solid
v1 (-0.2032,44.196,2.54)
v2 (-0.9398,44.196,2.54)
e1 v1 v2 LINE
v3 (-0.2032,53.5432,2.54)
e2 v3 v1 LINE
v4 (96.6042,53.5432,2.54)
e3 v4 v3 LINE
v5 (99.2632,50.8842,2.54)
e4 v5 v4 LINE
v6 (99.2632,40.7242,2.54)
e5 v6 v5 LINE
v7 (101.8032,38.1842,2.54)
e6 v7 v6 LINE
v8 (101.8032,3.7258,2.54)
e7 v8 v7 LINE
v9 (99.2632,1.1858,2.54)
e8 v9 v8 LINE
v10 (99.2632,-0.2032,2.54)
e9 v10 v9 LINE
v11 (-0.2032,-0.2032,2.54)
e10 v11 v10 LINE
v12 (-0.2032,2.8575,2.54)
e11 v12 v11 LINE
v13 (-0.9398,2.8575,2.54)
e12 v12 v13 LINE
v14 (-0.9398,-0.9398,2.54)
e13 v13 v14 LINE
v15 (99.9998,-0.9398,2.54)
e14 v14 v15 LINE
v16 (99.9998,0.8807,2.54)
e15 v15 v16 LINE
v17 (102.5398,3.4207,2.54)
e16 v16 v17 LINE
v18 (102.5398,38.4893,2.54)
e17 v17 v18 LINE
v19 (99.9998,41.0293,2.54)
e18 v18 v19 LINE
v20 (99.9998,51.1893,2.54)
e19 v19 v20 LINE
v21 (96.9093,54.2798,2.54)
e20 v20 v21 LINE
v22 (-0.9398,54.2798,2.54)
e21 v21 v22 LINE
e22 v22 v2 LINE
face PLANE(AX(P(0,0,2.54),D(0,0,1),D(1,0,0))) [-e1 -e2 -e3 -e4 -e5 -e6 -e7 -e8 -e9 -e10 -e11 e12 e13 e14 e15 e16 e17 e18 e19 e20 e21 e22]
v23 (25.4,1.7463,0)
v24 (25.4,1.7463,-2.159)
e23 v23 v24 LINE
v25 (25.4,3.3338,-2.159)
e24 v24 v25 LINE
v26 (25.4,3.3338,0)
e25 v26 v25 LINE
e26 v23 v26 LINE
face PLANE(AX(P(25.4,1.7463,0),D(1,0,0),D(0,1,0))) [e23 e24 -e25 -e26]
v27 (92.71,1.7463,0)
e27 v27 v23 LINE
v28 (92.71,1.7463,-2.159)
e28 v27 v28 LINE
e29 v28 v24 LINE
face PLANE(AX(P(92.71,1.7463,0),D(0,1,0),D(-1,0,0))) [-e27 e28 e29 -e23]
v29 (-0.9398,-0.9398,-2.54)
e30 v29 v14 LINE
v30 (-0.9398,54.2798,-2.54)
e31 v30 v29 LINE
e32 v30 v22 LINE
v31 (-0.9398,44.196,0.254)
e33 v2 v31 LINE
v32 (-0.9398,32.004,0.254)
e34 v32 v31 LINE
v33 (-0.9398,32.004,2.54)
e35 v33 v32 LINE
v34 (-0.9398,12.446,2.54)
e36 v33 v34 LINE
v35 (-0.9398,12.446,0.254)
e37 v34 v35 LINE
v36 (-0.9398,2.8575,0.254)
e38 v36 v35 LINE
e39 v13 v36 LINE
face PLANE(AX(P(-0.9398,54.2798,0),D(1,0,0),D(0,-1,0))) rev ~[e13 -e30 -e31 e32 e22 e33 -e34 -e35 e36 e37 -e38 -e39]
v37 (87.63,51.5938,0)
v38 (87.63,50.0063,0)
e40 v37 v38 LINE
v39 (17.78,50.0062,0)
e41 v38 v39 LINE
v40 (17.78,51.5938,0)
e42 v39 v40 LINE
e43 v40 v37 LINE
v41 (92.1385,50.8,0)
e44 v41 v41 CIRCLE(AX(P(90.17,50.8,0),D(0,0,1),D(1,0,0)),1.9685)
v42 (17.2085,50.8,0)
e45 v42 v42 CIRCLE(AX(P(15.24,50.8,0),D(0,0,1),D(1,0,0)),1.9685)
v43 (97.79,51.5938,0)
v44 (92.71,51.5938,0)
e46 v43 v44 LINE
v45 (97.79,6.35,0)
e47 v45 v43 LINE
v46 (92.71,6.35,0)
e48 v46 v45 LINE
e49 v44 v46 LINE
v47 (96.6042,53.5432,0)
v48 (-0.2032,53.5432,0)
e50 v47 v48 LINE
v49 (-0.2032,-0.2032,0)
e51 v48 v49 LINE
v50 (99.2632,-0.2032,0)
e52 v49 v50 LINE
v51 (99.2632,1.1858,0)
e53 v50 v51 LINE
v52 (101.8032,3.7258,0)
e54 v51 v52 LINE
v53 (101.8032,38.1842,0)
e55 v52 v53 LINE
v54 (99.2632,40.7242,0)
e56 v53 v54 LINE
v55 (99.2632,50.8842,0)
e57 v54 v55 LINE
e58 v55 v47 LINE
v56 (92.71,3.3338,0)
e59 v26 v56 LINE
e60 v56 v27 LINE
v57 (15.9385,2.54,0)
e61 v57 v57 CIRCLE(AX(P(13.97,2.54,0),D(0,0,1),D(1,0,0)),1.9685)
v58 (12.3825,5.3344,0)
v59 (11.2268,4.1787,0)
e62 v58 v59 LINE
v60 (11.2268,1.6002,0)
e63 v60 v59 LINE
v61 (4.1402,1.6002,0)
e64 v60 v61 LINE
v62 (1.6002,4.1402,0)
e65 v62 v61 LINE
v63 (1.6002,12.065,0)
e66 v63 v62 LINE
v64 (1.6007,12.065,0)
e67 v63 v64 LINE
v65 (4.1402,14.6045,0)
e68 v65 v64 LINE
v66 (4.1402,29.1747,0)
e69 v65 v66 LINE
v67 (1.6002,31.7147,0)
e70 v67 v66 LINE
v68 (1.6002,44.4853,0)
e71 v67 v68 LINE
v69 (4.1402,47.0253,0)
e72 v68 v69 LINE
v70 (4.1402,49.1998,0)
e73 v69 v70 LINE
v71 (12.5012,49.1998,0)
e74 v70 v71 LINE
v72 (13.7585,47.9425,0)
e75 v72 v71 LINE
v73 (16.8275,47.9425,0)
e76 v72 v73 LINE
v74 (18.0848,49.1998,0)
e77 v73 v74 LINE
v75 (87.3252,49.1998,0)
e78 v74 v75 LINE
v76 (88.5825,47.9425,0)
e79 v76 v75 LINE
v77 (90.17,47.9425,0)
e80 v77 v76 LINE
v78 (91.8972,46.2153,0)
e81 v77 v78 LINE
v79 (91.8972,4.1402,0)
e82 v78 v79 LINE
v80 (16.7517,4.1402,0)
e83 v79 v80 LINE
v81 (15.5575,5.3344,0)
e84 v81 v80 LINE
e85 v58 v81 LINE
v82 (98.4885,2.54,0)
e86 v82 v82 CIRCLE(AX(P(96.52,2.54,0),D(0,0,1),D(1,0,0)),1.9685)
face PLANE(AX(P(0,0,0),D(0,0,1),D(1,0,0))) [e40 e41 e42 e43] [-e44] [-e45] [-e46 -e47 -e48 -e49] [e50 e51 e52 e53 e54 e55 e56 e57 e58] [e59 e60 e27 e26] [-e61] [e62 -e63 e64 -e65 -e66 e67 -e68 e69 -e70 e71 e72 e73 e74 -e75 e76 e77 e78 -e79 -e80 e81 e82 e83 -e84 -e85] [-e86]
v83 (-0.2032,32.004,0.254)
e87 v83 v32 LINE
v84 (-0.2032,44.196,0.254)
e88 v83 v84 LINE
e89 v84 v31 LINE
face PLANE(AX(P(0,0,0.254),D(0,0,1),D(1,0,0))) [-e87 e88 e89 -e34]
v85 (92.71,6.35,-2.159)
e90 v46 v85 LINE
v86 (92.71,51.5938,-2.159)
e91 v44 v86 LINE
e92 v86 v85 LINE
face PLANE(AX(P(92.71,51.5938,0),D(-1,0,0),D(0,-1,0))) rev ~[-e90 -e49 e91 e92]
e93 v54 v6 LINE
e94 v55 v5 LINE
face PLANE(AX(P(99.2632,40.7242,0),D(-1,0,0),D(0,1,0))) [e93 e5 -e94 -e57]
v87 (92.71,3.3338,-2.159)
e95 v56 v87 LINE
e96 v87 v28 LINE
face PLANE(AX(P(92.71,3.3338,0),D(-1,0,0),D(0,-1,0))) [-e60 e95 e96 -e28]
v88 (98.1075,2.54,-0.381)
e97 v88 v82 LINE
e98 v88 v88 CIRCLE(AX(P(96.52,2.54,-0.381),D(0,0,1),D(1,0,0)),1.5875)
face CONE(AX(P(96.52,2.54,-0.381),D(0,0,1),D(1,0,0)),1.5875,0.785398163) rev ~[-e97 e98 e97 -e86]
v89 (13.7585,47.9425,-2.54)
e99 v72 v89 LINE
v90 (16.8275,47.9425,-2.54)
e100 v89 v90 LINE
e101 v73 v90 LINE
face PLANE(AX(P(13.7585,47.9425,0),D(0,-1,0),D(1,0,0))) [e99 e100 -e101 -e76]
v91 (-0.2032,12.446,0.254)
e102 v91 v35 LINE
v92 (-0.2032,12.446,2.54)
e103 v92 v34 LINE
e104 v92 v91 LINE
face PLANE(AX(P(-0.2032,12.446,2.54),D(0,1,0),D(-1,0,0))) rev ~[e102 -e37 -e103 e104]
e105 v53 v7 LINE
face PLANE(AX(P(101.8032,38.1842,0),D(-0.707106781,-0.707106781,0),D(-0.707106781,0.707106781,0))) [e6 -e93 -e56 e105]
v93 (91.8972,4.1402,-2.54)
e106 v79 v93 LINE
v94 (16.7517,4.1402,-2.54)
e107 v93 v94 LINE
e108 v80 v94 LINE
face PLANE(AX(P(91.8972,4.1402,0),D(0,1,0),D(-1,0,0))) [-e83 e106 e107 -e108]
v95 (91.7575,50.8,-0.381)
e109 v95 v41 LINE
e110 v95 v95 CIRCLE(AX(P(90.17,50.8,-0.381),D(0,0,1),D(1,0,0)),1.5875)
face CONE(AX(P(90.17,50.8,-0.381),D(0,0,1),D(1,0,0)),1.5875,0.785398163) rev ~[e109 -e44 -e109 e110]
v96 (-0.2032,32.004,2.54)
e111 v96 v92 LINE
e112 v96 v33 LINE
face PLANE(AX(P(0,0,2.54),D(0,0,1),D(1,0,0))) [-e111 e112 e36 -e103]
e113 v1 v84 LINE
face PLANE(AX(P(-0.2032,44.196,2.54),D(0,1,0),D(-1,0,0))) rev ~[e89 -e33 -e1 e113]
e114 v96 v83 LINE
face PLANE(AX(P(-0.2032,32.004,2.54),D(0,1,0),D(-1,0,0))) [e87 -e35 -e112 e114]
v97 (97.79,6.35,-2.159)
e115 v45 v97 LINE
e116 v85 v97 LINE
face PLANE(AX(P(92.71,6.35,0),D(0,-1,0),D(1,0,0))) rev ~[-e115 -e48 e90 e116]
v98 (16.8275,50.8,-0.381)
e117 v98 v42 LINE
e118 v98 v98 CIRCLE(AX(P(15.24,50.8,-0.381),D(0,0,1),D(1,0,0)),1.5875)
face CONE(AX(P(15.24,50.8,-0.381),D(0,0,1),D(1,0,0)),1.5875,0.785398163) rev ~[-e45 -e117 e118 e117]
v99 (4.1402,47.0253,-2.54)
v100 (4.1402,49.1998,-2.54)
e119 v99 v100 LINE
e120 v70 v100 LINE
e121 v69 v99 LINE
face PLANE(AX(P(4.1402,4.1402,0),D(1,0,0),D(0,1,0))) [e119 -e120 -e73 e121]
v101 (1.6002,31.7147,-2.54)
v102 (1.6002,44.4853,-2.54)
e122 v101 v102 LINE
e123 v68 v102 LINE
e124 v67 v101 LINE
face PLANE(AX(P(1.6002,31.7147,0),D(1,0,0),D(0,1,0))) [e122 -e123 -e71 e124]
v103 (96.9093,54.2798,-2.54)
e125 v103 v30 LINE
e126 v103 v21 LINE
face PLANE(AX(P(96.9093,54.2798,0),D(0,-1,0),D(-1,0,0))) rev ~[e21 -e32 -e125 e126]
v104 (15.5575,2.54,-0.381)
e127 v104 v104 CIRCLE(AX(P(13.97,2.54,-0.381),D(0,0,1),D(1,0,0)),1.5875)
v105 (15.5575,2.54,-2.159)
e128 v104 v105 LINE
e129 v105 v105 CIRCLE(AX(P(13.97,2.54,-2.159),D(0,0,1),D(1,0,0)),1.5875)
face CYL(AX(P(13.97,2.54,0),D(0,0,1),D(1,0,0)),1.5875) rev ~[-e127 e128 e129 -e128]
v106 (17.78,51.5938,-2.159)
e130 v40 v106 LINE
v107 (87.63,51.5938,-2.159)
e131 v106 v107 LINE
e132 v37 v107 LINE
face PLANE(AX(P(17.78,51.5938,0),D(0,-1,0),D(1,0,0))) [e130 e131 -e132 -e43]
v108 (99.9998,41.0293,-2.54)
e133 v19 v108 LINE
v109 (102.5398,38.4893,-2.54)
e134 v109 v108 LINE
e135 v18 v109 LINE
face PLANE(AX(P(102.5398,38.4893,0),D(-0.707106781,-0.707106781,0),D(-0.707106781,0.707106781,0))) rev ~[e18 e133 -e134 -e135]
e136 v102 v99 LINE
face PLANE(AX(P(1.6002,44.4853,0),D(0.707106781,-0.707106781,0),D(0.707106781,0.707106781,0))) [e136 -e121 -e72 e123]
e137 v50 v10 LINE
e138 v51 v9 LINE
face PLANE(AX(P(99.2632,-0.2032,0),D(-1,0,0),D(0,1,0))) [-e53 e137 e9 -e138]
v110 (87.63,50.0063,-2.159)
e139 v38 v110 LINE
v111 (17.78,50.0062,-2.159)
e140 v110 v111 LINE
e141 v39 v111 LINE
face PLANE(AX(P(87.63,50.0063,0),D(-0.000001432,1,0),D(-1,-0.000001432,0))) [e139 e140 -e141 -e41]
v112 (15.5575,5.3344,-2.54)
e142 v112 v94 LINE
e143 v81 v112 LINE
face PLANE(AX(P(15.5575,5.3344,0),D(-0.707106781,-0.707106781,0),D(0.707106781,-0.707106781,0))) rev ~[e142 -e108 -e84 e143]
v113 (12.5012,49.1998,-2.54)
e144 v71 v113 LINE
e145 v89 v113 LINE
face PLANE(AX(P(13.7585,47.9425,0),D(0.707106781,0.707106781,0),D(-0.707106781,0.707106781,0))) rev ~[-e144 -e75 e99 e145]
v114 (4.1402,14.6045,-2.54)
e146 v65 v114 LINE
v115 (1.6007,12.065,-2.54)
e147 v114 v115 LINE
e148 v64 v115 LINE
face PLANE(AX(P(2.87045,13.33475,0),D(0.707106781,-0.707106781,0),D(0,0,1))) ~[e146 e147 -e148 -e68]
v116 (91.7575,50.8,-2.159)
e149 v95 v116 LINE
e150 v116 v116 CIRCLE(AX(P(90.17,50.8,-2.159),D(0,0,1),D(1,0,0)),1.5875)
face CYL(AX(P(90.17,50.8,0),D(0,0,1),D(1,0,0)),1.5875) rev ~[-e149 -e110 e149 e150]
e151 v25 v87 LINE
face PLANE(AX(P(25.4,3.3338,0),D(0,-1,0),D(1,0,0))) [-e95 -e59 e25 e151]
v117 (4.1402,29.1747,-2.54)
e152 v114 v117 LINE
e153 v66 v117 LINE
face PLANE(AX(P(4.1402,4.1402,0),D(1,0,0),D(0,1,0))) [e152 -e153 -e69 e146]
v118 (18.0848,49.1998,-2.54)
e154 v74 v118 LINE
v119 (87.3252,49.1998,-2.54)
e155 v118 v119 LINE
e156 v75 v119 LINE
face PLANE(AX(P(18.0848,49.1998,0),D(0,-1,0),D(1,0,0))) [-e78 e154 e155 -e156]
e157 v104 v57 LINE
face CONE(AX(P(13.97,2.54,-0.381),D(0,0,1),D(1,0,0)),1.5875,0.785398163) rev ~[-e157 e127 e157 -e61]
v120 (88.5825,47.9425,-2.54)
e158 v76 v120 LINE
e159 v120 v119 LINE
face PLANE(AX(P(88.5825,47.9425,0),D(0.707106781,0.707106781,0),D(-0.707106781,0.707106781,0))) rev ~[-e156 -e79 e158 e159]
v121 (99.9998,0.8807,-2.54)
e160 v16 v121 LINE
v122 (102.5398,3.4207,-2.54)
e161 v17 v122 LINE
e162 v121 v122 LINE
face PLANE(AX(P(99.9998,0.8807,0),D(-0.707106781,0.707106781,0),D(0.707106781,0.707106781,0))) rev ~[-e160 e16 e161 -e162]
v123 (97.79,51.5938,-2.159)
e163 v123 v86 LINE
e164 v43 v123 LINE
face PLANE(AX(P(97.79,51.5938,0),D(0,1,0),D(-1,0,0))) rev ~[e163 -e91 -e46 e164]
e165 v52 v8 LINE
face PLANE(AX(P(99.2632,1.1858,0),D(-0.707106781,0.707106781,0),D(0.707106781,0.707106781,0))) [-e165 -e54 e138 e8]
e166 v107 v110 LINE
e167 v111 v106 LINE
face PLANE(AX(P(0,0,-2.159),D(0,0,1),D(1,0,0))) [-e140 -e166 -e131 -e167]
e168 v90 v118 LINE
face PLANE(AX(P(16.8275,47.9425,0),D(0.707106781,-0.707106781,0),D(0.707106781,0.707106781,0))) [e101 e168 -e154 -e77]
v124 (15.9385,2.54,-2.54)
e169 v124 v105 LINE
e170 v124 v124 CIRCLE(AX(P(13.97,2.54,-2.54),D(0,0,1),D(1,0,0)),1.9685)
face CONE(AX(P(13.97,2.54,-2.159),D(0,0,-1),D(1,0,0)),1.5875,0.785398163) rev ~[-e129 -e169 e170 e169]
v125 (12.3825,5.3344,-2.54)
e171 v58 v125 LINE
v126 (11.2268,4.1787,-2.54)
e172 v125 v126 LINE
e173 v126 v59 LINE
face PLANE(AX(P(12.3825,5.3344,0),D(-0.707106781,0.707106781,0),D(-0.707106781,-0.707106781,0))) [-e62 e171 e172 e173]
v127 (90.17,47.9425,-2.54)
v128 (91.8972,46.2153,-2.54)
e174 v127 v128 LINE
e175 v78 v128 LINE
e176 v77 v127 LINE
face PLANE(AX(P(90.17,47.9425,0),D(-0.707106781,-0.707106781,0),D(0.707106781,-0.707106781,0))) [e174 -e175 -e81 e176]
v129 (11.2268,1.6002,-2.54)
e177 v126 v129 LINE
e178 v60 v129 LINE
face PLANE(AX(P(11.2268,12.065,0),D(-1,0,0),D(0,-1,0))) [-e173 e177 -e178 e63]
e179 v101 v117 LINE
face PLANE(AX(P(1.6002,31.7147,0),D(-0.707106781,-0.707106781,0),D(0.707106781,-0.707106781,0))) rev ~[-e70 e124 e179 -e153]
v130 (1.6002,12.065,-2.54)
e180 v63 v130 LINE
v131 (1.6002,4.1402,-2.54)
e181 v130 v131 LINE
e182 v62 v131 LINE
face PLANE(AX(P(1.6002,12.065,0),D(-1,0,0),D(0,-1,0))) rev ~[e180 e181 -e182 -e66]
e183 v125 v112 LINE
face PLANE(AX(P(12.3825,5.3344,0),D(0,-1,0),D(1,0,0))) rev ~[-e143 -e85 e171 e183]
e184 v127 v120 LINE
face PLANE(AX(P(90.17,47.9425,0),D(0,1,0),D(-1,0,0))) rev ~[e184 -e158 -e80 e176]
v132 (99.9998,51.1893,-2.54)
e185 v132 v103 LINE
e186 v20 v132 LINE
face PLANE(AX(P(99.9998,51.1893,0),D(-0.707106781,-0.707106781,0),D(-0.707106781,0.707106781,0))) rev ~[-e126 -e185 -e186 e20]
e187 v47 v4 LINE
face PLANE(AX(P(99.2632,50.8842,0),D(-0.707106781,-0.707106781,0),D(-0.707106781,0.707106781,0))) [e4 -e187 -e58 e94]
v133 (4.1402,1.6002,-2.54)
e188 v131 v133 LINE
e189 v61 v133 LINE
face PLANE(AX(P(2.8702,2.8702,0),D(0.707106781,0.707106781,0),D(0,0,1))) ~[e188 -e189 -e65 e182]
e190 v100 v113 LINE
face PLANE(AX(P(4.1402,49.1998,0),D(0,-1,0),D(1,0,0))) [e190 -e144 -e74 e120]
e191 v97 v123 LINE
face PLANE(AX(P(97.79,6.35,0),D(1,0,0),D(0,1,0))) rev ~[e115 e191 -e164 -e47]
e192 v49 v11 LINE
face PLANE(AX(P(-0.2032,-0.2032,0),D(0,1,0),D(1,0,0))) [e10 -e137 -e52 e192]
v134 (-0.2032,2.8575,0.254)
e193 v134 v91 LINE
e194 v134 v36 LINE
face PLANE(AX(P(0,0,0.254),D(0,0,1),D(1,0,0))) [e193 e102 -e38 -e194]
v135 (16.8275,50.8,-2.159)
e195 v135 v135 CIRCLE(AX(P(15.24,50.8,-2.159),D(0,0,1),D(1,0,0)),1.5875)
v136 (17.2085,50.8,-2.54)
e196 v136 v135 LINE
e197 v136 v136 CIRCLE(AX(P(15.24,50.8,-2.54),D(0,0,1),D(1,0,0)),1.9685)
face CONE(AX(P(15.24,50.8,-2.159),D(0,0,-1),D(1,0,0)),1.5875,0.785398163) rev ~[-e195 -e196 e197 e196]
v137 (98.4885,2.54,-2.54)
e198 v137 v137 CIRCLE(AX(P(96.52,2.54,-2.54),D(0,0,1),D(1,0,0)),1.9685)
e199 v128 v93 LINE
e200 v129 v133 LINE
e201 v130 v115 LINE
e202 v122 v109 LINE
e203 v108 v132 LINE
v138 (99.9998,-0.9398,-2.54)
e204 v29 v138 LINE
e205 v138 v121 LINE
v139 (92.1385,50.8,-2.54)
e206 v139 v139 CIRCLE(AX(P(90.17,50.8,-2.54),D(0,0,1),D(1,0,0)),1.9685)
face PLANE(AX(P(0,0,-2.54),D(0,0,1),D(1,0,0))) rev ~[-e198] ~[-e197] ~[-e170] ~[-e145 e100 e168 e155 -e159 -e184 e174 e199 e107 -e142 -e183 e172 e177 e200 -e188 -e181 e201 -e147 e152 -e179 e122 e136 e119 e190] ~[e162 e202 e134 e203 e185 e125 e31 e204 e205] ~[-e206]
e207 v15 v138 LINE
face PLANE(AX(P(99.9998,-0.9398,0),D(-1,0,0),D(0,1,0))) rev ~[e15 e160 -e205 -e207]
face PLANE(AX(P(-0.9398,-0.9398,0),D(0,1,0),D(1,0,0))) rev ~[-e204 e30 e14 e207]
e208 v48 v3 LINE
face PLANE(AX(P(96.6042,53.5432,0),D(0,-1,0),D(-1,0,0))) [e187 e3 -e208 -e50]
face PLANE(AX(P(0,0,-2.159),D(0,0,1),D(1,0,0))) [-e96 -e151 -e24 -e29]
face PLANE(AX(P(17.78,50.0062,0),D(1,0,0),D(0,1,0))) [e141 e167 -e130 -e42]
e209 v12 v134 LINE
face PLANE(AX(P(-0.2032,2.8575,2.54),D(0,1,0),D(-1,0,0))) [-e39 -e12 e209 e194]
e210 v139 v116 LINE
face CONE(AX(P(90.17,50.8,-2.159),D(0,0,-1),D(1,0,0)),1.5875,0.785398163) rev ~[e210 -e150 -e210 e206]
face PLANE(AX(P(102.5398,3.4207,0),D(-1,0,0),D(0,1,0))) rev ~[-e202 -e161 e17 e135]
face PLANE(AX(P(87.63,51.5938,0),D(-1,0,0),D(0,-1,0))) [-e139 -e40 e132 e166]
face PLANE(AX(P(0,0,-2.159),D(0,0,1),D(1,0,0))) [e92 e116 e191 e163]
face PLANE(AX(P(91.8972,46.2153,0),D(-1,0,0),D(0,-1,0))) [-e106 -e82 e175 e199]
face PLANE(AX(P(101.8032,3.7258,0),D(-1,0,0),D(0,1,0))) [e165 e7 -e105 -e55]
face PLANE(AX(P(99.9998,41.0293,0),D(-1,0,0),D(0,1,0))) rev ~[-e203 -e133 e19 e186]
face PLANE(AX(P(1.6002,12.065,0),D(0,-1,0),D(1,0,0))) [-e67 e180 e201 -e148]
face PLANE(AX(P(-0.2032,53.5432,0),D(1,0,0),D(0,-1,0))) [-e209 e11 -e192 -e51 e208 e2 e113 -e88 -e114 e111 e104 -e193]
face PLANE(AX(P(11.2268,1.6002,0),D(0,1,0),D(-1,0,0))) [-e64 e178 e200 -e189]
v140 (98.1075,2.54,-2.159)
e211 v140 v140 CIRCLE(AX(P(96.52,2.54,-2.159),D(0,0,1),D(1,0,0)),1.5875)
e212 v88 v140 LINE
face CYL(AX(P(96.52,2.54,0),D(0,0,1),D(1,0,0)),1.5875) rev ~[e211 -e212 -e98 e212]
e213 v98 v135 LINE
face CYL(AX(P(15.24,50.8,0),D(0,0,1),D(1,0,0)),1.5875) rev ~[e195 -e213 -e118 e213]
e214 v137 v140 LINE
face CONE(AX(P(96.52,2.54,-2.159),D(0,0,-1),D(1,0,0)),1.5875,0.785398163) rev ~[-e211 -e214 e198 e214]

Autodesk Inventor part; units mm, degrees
ref_plane "YZ Plane" through (0, 0, 0) normal (1, 0, 0) x (0, 1, 0)
ref_plane "XZ Plane" through (0, 0, 0) normal (0, 1, 0) x (-1, 0, 0)
ref_plane "XY Plane" through (0, 0, 0) normal (0, 0, 1) x (1, 0, 0)
sketch "Sketch1" plane through (0, 0, 0) normal (0, 0, 1) x (1, 0, 0)
  line L0 (0, 53.34) -> (96.52, 53.34)
  line L1 (96.52, 53.34) -> (99.06, 50.8)
  line L2 (99.06, 50.8) -> (99.06, 40.64)
  line L3 (99.06, 40.64) -> (101.6, 38.1)
  line L4 (101.6, 38.1) -> (101.6, 3.81)
  line L5 (99.06, 0) -> (0, 0)
  line L6 (0, 0) -> (0, 53.34)
  line L7 (101.6, 3.81) -> (99.06, 1.27)
  line L8 (99.06, 1.27) -> (99.06, 0)
  line L9 (96.9093, 54.2798) -> (-0.9398, 54.2798)
  line L10 (-0.9398, 54.2798) -> (-0.9398, -0.9398)
  line L11 (-0.9398, -0.9398) -> (99.9998, -0.9398)
  line L12 (99.9998, -0.9398) -> (99.9998, 0.8807)
  line L13 (99.9998, 0.8807) -> (102.5398, 3.4207)
  line L14 (102.5398, 3.4207) -> (102.5398, 38.4893)
  line L15 (102.5398, 38.4893) -> (99.9998, 41.0293)
  line L16 (99.9998, 41.0293) -> (99.9998, 51.1893)
  line L17 (99.9998, 51.1893) -> (96.9093, 54.2798)
  line L18 (96.6042, 53.5432) -> (-0.2032, 53.5432)
  line L19 (-0.2032, 53.5432) -> (-0.2032, -0.2032)
  line L20 (-0.2032, -0.2032) -> (99.2632, -0.2032)
  line L21 (99.2632, -0.2032) -> (99.2632, 1.1858)
  line L22 (99.2632, 1.1858) -> (101.8032, 3.7258)
  line L23 (101.8032, 3.7258) -> (101.8032, 38.1842)
  line L24 (101.8032, 38.1842) -> (99.2632, 40.7242)
  line L25 (99.2632, 40.7242) -> (99.2632, 50.8842)
  line L26 (99.2632, 50.8842) -> (96.6042, 53.5432)
  point P0 (0, 0)
  dimension "d0" = 96.52
  dimension "d1" = 53.34
  dimension "d4" = 99.06
  dimension "d5" = 50.8
  dimension "d6" = 101.6
  dimension "d7" = 40.64
  dimension "d8" = 38.1
  dimension "d9" = 99.06
  dimension "d10" = 1.27
  dimension "d11" = 3.81
  dimension "d15" = 0.2032
  dimension "d18" = 0.7366
extrude "Extrusion2" add sketch "Sketch1" along normal blind 2.54 contours L17 L16 L15 L14 L13 L12 L11 L10 L9
sketch "Sketch2" plane through (0, 0, 0) normal (0, 0, 1) x (1, 0, 0)
  line L0 (0, 53.34) -> (96.52, 53.34)
  line L1 (96.52, 53.34) -> (99.06, 50.8)
  line L2 (99.06, 50.8) -> (99.06, 40.64)
  line L3 (99.06, 40.64) -> (101.6, 38.1)
  line L4 (101.6, 38.1) -> (101.6, 3.81)
  line L5 (99.06, 0) -> (0, 0)
  line L6 (0, 0) -> (0, 53.34)
  line L7 (101.6, 3.81) -> (99.06, 1.27)
  line L8 (99.06, 1.27) -> (99.06, 0)
  line L9 (96.9093, 54.2798) -> (-0.9398, 54.2798)
  line L10 (-0.9398, 54.2798) -> (-0.9398, -0.9398)
  line L11 (-0.9398, -0.9398) -> (99.9998, -0.9398)
  line L12 (99.9998, -0.9398) -> (99.9998, 0.8807)
  line L13 (99.9998, 0.8807) -> (102.5398, 3.4207)
  line L14 (102.5398, 3.4207) -> (102.5398, 38.4893)
  line L15 (102.5398, 38.4893) -> (99.9998, 41.0293)
  line L16 (99.9998, 41.0293) -> (99.9998, 51.1893)
  line L17 (99.9998, 51.1893) -> (96.9093, 54.2798)
  line L18 (96.6042, 53.5432) -> (-0.2032, 53.5432)
  line L19 (-0.2032, 53.5432) -> (-0.2032, -0.2032)
  line L20 (-0.2032, -0.2032) -> (99.2632, -0.2032)
  line L21 (99.2632, -0.2032) -> (99.2632, 1.1858)
  line L22 (99.2632, 1.1858) -> (101.8032, 3.7258)
  line L23 (101.8032, 3.7258) -> (101.8032, 38.1842)
  line L24 (101.8032, 38.1842) -> (99.2632, 40.7242)
  line L25 (99.2632, 40.7242) -> (99.2632, 50.8842)
  line L26 (99.2632, 50.8842) -> (96.6042, 53.5432)
  line L27 (4.1402, 4.1402) -> (4.1402, 49.1998)
  circle A0 centre (15.24, 50.8) radius 1.5875
  circle A1 centre (13.97, 2.54) radius 1.5875
  line L28 (13.7585, 47.9425) -> (16.8275, 47.9425)
  line L29 (16.8275, 47.9425) -> (18.0848, 49.1998)
  line L30 (13.7585, 47.9425) -> (12.5012, 49.1998)
  line L31 (4.1402, 49.1998) -> (12.5012, 49.1998)
  line L32 (18.0848, 49.1998) -> (87.3252, 49.1998)
  line L33 (12.3825, 5.3344) -> (15.5575, 5.3344)
  line L34 (15.5575, 5.3344) -> (16.7517, 4.1402)
  line L35 (12.3825, 5.3344) -> (11.1883, 4.1402)
  line L36 (91.8972, 4.1402) -> (16.7517, 4.1402)
  line L37 (11.1883, 4.1402) -> (4.1402, 4.1402)
  line L38 (91.8972, 46.2153) -> (91.8972, 4.1402)
  circle A2 centre (90.17, 50.8) radius 1.5875
  circle A3 centre (96.52, 2.54) radius 1.5875
  line L39 (90.17, 47.9425) -> (88.5825, 47.9425)
  line L40 (88.5825, 47.9425) -> (87.3252, 49.1998)
  line L41 (90.17, 47.9425) -> (91.8972, 46.2153)
  point P0 (0, 0)
  point P1 (0, 1.4137)
  dimension "d19" = 96.52
  dimension "d20" = 53.34
  dimension "d21" = 99.06
  dimension "d22" = 50.8
  dimension "d23" = 101.6
  dimension "d24" = 40.64
  dimension "d25" = 38.1
  dimension "d26" = 99.06
  dimension "d27" = 1.27
  dimension "d28" = 3.81
  dimension "d29" = 0.2032
  dimension "d30" = 0.7366
  dimension "d70" = 13.97
  dimension "d71" = 2.54
  dimension "d72" = 3.175
  dimension "d73" = 50.8
  dimension "d74" = 3.175
  dimension "d75" = 15.24
  dimension "d135" = 2.54
  dimension "d136" = 1.27
  dimension "d146" = 4.1402
  dimension "d148" = 91.8972
  dimension "d150" = 3.175
  dimension "d151" = 3.175
  dimension "d152" = 90.17
  dimension "d153" = 50.8
  dimension "d154" = 1.27
  dimension "d155" = 2.54
  dimension "d156" = 96.52
extrude "Extrusion3" add sketch "Sketch2" against normal blind 2.54 contours L0 L1 L2 L3 L4 L7 L8 L5 L6 | L17 L16 L15 L14 L13 L12 L11 L10 L9 | L26 L25 L24 L23 L22 L21 L20 L19 L18
sketch "Sketch4" plane through (0, 0, 2.54) normal (0, 0, 1) x (1, 0, 0)
  line L0 (-0.2032, -0.2032) -> (-0.2032, 53.5432) projected
  line L1 (-0.9398, -0.9398) -> (-0.9398, 54.2798) projected
  line L2 (-0.2032, 12.446) -> (-0.9398, 12.446)
  line L3 (-0.2032, 2.8575) -> (-0.9398, 2.8575)
  line L4 (-0.2032, 32.004) -> (-0.9398, 32.004)
  line L5 (-0.2032, 44.196) -> (-0.9398, 44.196)
  point P0 (0, 0)
  dimension "d35" = 12.446
  dimension "d36" = 2.8575
  dimension "d37" = 32.004
  dimension "d38" = 44.196
extrude "Extrusion4" cut sketch "Sketch4" against normal blind 2.286 contours L3 L1 L2 L0 | L4 L1 L5 L0
sketch "Sketch5" plane through (0, 0, 0) normal (0, 0, 1) x (1, 0, 0)
  line L0 (25.4, 3.3338) -> (92.71, 3.3338)
  line L1 (92.71, 3.3338) -> (92.71, 1.7463)
  line L2 (92.71, 1.7463) -> (25.4, 1.7463)
  line L3 (25.4, 1.7463) -> (25.4, 3.3338)
  line L4 (17.78, 51.5938) -> (87.63, 51.5938)
  line L5 (87.63, 51.5938) -> (87.63, 50.0063)
  line L6 (87.63, 50.0063) -> (17.78, 50.0062)
  line L7 (17.78, 50.0062) -> (17.78, 51.5938)
  line L8 (-0.2032, 53.5432) -> (-0.2032, -0.2032) projected
  line L9 (-0.2032, 12.065) -> (11.2268, 12.065)
  line L10 (11.2268, 12.065) -> (11.2268, 1.6002)
  line L11 (11.2268, 1.6002) -> (-0.2032, 1.6002)
  line L12 (-0.2032, 1.6002) -> (-0.2032, 12.065)
  line L13 (1.6002, 12.065) -> (1.6002, 1.6002)
  line L14 (4.1402, 4.1402) -> (4.1402, 49.1998) projected
  line L15 (4.1402, 49.1998) -> (12.5012, 49.1998) projected
  line L16 (91.8972, 4.1402) -> (16.7517, 4.1402) projected
  line L17 (99.2632, 50.8842) -> (96.6042, 53.5432) projected
  line L18 (96.6042, 53.5432) -> (-0.2032, 53.5432) projected
  line L19 (-0.2032, 53.5432) -> (-0.2032, -0.2032) projected
  line L20 (-0.2032, -0.2032) -> (99.2632, -0.2032) projected
  line L21 (99.2632, -0.2032) -> (99.2632, 1.1858) projected
  line L22 (99.2632, 1.1858) -> (101.8032, 3.7258) projected
  line L23 (101.8032, 3.7258) -> (101.8032, 38.1842) projected
  line L24 (101.8032, 38.1842) -> (99.2632, 40.7242) projected
  line L25 (99.2632, 40.7242) -> (99.2632, 50.8842) projected
  line L26 (91.8972, 4.1402) -> (16.7517, 4.1402) projected
  line L27 (4.1402, 4.1402) -> (4.1402, 49.1998) projected
  line L28 (1.6002, 44.4853) -> (4.1402, 47.0253)
  line L29 (99.2632, 40.7242) -> (99.2632, 50.8842) projected
  line L30 (1.6002, 31.7147) -> (4.1402, 29.1747)
  line L31 (1.6002, 31.7147) -> (1.6002, 44.4853)
  line L32 (4.1402, 47.0253) -> (4.1402, 29.1747)
  line L33 (12.5012, 49.1998) -> (13.7585, 47.9425) projected
  line L34 (13.7585, 47.9425) -> (16.8275, 47.9425) projected
  line L35 (16.8275, 47.9425) -> (18.0848, 49.1998) projected
  line L36 (18.0848, 49.1998) -> (87.3252, 49.1998) projected
  line L37 (11.1883, 4.1402) -> (4.1402, 4.1402) projected
  line L38 (16.7517, 4.1402) -> (15.5575, 5.3344) projected
  line L39 (15.5575, 5.3344) -> (12.3825, 5.3344) projected
  line L40 (12.3825, 5.3344) -> (11.1883, 4.1402) projected
  line L41 (15.5575, 5.3344) -> (12.3825, 5.3344) projected
  line L42 (97.79, 51.5938) -> (92.71, 51.5938)
  line L43 (92.71, 51.5938) -> (92.71, 6.35)
  line L44 (92.71, 6.35) -> (97.79, 6.35)
  line L45 (97.79, 6.35) -> (97.79, 51.5938)
  line L46 (91.8972, 46.2153) -> (91.8972, 4.1402) projected
  line L47 (87.3252, 49.1998) -> (88.5825, 47.9425) projected
  line L48 (88.5825, 47.9425) -> (90.17, 47.9425) projected
  line L49 (90.17, 47.9425) -> (91.8972, 46.2153) projected
  point P0 (0, 0)
  point P1 (61.8998, 4.1402)
  dimension "d41" = 1.5875
  dimension "d42" = 25.4
  dimension "d43" = 92.71
  dimension "d44" = 17.78
  dimension "d45" = 87.63
  dimension "d46" = 1.5875
  dimension "d47" = 51.5938
  dimension "d48" = 1.7463
  dimension "d51" = 0
  dimension "d52" = 12.065
  dimension "d54" = 11.43
  dimension "d97" = 2.54
  dimension "d101" = 2.54
  dimension "d102" = 2.54
  dimension "d142" = 5.08
  dimension "d143" = 0
  dimension "d145" = 6.35
  dimension "d149" = 92.71
extrude "Extrusion5" cut sketch "Sketch5" against normal blind 2.159 contours L0 L1 L2 L3 | L4 L5 L6 L7 | L45 L44 L43 L42
sketch "Sketch7" plane through (0, 0, 0) normal (0, 0, 1) x (1, 0, 0)
  line L0 (25.4, 3.3338) -> (64.77, 3.3338)
  line L1 (64.77, 3.3338) -> (64.77, 1.7463)
  line L2 (64.77, 1.7463) -> (25.4, 1.7463)
  line L3 (25.4, 1.7463) -> (25.4, 3.3338)
  line L4 (17.78, 51.5938) -> (64.77, 51.5938)
  line L5 (64.77, 51.5938) -> (64.77, 50.0062)
  line L6 (64.77, 50.0062) -> (17.78, 50.0062)
  line L7 (17.78, 50.0062) -> (17.78, 51.5938)
  line L8 (-0.2032, 53.5432) -> (-0.2032, -0.2032)
  line L9 (-0.2032, 12.065) -> (11.2268, 12.065)
  line L10 (11.2268, 12.065) -> (11.2268, 1.6002)
  line L11 (11.2268, 1.6002) -> (-0.2032, 1.6002)
  line L12 (-0.2032, 1.6002) -> (-0.2032, 12.065)
  line L13 (1.6002, 12.065) -> (1.6002, 1.6002)
  line L14 (63.627, 30.43) -> (66.167, 30.43) construction
  line L15 (63.627, 25.35) -> (63.627, 30.43) construction
  line L16 (66.167, 30.43) -> (66.167, 25.35) construction
  line L17 (66.167, 25.35) -> (63.627, 25.35) construction
  line L18 (4.1402, 4.1402) -> (4.1402, 49.1998)
  line L19 (4.1402, 49.1998) -> (61.8998, 49.1998)
  line L20 (61.8998, 49.1998) -> (61.8998, 38.6711)
  line L21 (61.8998, 38.6711) -> (64.4398, 36.1311)
  line L22 (64.4398, 6.866) -> (64.4398, 6.7949)
  line L23 (64.4398, 6.7949) -> (61.8998, 4.2549)
  line L24 (61.8998, 4.2549) -> (61.8998, 4.1402)
  line L25 (61.8998, 4.1402) -> (4.1402, 4.1402)
  line L26 (66.2432, 51.9002) -> (64.6002, 53.5432)
  line L27 (64.6002, 53.5432) -> (-0.2032, 53.5432)
  line L28 (-0.2032, 53.5432) -> (-0.2032, -0.2032)
  line L29 (-0.2032, -0.2032) -> (66.2432, -0.2032)
  line L30 (66.2432, -0.2032) -> (66.2432, 2.4558)
  line L31 (66.2432, 2.4558) -> (68.7832, 4.9958)
  line L32 (68.7832, 4.9958) -> (68.7832, 37.9302)
  line L33 (68.7832, 37.9302) -> (66.2432, 40.4702)
  line L34 (66.2432, 40.4702) -> (66.2432, 51.9002)
  line L35 (64.4398, 36.1311) -> (64.4398, 6.7949)
  line L36 (65.7098, 32.462) -> (66.9798, 31.192)
  line L37 (65.7098, 23.318) -> (66.9798, 24.588)
  line L38 (66.9798, 31.192) -> (66.9798, 24.588)
  line L39 (64.4398, 33.732) -> (64.4398, 22.048)
  line L40 (61.8998, 4.1402) -> (4.1402, 4.1402)
  line L41 (4.1402, 4.1402) -> (4.1402, 49.1998)
  line L42 (1.6002, 44.4853) -> (4.1402, 47.0253)
  line L43 (66.2432, 40.4702) -> (66.2432, 51.9002)
  line L44 (1.6002, 31.7147) -> (4.1402, 29.1747)
  line L45 (1.6002, 31.7147) -> (1.6002, 44.4853)
  line L46 (4.1402, 47.0253) -> (4.1402, 29.1747)
  arc A0 (64.4398, 8.374) -> (64.4398, 6.866) centre (65.8368, 7.62) ccw
  line L47 (64.4398, 36.1311) -> (64.4398, 8.374)
  line L48 (64.4398, 32.462) -> (65.7098, 32.462)
  line L49 (65.7098, 23.318) -> (65.0748, 23.318)
  line L50 (65.0748, 23.318) -> (64.4398, 22.683)
  point P0 (0, 0)
  point P1 (0, 0)
  point P2 (64.4398, 31.192)
  point P3 (64.4398, 31.192)
  point P4 (64.4398, 24.588)
  point P5 (64.4398, 24.588)
  dimension "d106" = 1.5875
  dimension "d107" = 25.4
  dimension "d108" = 64.77
  dimension "d109" = 17.78
  dimension "d110" = 64.77
  dimension "d111" = 1.5875
  dimension "d112" = 51.5938
  dimension "d113" = 1.7463
  dimension "d114" = 0
  dimension "d115" = 12.065
  dimension "d116" = 11.43
  dimension "d117" = 2.54
  dimension "d118" = 2.54
  dimension "d119" = 2.54
  dimension "d120" = 2.54
  dimension "d121" = 2.54
  dimension "d122" = 2.54
  dimension "d123" = 2.54
extrude "Extrusion7" cut sketch "Sketch7" against normal through all contours L9 L18 L25 L10 L11 L13 | L9 L10 L25 L18 | L44 L45 L42 L18 | L48 L36 L38 L37 L49 L50 L35
chamfer "Chamfer3" distance 2.54 angle 45 1 edges at (4.1402, 12.065, -1.27)
chamfer "Chamfer5" distance 2.54 angle 45 1 edges at (1.6002, 1.6002, -1.27)
chamfer "Chamfer6" distance 0.381 angle 45 8 edges at (12.3825, 2.54, 0) (13.6525, 50.8, 0) (13.6525, 50.8, -2.54) (12.3825, 2.54, -2.54) (94.9325, 2.54, -2.54) (88.5825, 50.8, -2.54) (88.5825, 50.8, 0) (94.9325, 2.54, 0)
equation "\"d97\" = d101"
equation "\"d102\" = d101"
properties part number "Arduino MEGA Bumper 0003"
